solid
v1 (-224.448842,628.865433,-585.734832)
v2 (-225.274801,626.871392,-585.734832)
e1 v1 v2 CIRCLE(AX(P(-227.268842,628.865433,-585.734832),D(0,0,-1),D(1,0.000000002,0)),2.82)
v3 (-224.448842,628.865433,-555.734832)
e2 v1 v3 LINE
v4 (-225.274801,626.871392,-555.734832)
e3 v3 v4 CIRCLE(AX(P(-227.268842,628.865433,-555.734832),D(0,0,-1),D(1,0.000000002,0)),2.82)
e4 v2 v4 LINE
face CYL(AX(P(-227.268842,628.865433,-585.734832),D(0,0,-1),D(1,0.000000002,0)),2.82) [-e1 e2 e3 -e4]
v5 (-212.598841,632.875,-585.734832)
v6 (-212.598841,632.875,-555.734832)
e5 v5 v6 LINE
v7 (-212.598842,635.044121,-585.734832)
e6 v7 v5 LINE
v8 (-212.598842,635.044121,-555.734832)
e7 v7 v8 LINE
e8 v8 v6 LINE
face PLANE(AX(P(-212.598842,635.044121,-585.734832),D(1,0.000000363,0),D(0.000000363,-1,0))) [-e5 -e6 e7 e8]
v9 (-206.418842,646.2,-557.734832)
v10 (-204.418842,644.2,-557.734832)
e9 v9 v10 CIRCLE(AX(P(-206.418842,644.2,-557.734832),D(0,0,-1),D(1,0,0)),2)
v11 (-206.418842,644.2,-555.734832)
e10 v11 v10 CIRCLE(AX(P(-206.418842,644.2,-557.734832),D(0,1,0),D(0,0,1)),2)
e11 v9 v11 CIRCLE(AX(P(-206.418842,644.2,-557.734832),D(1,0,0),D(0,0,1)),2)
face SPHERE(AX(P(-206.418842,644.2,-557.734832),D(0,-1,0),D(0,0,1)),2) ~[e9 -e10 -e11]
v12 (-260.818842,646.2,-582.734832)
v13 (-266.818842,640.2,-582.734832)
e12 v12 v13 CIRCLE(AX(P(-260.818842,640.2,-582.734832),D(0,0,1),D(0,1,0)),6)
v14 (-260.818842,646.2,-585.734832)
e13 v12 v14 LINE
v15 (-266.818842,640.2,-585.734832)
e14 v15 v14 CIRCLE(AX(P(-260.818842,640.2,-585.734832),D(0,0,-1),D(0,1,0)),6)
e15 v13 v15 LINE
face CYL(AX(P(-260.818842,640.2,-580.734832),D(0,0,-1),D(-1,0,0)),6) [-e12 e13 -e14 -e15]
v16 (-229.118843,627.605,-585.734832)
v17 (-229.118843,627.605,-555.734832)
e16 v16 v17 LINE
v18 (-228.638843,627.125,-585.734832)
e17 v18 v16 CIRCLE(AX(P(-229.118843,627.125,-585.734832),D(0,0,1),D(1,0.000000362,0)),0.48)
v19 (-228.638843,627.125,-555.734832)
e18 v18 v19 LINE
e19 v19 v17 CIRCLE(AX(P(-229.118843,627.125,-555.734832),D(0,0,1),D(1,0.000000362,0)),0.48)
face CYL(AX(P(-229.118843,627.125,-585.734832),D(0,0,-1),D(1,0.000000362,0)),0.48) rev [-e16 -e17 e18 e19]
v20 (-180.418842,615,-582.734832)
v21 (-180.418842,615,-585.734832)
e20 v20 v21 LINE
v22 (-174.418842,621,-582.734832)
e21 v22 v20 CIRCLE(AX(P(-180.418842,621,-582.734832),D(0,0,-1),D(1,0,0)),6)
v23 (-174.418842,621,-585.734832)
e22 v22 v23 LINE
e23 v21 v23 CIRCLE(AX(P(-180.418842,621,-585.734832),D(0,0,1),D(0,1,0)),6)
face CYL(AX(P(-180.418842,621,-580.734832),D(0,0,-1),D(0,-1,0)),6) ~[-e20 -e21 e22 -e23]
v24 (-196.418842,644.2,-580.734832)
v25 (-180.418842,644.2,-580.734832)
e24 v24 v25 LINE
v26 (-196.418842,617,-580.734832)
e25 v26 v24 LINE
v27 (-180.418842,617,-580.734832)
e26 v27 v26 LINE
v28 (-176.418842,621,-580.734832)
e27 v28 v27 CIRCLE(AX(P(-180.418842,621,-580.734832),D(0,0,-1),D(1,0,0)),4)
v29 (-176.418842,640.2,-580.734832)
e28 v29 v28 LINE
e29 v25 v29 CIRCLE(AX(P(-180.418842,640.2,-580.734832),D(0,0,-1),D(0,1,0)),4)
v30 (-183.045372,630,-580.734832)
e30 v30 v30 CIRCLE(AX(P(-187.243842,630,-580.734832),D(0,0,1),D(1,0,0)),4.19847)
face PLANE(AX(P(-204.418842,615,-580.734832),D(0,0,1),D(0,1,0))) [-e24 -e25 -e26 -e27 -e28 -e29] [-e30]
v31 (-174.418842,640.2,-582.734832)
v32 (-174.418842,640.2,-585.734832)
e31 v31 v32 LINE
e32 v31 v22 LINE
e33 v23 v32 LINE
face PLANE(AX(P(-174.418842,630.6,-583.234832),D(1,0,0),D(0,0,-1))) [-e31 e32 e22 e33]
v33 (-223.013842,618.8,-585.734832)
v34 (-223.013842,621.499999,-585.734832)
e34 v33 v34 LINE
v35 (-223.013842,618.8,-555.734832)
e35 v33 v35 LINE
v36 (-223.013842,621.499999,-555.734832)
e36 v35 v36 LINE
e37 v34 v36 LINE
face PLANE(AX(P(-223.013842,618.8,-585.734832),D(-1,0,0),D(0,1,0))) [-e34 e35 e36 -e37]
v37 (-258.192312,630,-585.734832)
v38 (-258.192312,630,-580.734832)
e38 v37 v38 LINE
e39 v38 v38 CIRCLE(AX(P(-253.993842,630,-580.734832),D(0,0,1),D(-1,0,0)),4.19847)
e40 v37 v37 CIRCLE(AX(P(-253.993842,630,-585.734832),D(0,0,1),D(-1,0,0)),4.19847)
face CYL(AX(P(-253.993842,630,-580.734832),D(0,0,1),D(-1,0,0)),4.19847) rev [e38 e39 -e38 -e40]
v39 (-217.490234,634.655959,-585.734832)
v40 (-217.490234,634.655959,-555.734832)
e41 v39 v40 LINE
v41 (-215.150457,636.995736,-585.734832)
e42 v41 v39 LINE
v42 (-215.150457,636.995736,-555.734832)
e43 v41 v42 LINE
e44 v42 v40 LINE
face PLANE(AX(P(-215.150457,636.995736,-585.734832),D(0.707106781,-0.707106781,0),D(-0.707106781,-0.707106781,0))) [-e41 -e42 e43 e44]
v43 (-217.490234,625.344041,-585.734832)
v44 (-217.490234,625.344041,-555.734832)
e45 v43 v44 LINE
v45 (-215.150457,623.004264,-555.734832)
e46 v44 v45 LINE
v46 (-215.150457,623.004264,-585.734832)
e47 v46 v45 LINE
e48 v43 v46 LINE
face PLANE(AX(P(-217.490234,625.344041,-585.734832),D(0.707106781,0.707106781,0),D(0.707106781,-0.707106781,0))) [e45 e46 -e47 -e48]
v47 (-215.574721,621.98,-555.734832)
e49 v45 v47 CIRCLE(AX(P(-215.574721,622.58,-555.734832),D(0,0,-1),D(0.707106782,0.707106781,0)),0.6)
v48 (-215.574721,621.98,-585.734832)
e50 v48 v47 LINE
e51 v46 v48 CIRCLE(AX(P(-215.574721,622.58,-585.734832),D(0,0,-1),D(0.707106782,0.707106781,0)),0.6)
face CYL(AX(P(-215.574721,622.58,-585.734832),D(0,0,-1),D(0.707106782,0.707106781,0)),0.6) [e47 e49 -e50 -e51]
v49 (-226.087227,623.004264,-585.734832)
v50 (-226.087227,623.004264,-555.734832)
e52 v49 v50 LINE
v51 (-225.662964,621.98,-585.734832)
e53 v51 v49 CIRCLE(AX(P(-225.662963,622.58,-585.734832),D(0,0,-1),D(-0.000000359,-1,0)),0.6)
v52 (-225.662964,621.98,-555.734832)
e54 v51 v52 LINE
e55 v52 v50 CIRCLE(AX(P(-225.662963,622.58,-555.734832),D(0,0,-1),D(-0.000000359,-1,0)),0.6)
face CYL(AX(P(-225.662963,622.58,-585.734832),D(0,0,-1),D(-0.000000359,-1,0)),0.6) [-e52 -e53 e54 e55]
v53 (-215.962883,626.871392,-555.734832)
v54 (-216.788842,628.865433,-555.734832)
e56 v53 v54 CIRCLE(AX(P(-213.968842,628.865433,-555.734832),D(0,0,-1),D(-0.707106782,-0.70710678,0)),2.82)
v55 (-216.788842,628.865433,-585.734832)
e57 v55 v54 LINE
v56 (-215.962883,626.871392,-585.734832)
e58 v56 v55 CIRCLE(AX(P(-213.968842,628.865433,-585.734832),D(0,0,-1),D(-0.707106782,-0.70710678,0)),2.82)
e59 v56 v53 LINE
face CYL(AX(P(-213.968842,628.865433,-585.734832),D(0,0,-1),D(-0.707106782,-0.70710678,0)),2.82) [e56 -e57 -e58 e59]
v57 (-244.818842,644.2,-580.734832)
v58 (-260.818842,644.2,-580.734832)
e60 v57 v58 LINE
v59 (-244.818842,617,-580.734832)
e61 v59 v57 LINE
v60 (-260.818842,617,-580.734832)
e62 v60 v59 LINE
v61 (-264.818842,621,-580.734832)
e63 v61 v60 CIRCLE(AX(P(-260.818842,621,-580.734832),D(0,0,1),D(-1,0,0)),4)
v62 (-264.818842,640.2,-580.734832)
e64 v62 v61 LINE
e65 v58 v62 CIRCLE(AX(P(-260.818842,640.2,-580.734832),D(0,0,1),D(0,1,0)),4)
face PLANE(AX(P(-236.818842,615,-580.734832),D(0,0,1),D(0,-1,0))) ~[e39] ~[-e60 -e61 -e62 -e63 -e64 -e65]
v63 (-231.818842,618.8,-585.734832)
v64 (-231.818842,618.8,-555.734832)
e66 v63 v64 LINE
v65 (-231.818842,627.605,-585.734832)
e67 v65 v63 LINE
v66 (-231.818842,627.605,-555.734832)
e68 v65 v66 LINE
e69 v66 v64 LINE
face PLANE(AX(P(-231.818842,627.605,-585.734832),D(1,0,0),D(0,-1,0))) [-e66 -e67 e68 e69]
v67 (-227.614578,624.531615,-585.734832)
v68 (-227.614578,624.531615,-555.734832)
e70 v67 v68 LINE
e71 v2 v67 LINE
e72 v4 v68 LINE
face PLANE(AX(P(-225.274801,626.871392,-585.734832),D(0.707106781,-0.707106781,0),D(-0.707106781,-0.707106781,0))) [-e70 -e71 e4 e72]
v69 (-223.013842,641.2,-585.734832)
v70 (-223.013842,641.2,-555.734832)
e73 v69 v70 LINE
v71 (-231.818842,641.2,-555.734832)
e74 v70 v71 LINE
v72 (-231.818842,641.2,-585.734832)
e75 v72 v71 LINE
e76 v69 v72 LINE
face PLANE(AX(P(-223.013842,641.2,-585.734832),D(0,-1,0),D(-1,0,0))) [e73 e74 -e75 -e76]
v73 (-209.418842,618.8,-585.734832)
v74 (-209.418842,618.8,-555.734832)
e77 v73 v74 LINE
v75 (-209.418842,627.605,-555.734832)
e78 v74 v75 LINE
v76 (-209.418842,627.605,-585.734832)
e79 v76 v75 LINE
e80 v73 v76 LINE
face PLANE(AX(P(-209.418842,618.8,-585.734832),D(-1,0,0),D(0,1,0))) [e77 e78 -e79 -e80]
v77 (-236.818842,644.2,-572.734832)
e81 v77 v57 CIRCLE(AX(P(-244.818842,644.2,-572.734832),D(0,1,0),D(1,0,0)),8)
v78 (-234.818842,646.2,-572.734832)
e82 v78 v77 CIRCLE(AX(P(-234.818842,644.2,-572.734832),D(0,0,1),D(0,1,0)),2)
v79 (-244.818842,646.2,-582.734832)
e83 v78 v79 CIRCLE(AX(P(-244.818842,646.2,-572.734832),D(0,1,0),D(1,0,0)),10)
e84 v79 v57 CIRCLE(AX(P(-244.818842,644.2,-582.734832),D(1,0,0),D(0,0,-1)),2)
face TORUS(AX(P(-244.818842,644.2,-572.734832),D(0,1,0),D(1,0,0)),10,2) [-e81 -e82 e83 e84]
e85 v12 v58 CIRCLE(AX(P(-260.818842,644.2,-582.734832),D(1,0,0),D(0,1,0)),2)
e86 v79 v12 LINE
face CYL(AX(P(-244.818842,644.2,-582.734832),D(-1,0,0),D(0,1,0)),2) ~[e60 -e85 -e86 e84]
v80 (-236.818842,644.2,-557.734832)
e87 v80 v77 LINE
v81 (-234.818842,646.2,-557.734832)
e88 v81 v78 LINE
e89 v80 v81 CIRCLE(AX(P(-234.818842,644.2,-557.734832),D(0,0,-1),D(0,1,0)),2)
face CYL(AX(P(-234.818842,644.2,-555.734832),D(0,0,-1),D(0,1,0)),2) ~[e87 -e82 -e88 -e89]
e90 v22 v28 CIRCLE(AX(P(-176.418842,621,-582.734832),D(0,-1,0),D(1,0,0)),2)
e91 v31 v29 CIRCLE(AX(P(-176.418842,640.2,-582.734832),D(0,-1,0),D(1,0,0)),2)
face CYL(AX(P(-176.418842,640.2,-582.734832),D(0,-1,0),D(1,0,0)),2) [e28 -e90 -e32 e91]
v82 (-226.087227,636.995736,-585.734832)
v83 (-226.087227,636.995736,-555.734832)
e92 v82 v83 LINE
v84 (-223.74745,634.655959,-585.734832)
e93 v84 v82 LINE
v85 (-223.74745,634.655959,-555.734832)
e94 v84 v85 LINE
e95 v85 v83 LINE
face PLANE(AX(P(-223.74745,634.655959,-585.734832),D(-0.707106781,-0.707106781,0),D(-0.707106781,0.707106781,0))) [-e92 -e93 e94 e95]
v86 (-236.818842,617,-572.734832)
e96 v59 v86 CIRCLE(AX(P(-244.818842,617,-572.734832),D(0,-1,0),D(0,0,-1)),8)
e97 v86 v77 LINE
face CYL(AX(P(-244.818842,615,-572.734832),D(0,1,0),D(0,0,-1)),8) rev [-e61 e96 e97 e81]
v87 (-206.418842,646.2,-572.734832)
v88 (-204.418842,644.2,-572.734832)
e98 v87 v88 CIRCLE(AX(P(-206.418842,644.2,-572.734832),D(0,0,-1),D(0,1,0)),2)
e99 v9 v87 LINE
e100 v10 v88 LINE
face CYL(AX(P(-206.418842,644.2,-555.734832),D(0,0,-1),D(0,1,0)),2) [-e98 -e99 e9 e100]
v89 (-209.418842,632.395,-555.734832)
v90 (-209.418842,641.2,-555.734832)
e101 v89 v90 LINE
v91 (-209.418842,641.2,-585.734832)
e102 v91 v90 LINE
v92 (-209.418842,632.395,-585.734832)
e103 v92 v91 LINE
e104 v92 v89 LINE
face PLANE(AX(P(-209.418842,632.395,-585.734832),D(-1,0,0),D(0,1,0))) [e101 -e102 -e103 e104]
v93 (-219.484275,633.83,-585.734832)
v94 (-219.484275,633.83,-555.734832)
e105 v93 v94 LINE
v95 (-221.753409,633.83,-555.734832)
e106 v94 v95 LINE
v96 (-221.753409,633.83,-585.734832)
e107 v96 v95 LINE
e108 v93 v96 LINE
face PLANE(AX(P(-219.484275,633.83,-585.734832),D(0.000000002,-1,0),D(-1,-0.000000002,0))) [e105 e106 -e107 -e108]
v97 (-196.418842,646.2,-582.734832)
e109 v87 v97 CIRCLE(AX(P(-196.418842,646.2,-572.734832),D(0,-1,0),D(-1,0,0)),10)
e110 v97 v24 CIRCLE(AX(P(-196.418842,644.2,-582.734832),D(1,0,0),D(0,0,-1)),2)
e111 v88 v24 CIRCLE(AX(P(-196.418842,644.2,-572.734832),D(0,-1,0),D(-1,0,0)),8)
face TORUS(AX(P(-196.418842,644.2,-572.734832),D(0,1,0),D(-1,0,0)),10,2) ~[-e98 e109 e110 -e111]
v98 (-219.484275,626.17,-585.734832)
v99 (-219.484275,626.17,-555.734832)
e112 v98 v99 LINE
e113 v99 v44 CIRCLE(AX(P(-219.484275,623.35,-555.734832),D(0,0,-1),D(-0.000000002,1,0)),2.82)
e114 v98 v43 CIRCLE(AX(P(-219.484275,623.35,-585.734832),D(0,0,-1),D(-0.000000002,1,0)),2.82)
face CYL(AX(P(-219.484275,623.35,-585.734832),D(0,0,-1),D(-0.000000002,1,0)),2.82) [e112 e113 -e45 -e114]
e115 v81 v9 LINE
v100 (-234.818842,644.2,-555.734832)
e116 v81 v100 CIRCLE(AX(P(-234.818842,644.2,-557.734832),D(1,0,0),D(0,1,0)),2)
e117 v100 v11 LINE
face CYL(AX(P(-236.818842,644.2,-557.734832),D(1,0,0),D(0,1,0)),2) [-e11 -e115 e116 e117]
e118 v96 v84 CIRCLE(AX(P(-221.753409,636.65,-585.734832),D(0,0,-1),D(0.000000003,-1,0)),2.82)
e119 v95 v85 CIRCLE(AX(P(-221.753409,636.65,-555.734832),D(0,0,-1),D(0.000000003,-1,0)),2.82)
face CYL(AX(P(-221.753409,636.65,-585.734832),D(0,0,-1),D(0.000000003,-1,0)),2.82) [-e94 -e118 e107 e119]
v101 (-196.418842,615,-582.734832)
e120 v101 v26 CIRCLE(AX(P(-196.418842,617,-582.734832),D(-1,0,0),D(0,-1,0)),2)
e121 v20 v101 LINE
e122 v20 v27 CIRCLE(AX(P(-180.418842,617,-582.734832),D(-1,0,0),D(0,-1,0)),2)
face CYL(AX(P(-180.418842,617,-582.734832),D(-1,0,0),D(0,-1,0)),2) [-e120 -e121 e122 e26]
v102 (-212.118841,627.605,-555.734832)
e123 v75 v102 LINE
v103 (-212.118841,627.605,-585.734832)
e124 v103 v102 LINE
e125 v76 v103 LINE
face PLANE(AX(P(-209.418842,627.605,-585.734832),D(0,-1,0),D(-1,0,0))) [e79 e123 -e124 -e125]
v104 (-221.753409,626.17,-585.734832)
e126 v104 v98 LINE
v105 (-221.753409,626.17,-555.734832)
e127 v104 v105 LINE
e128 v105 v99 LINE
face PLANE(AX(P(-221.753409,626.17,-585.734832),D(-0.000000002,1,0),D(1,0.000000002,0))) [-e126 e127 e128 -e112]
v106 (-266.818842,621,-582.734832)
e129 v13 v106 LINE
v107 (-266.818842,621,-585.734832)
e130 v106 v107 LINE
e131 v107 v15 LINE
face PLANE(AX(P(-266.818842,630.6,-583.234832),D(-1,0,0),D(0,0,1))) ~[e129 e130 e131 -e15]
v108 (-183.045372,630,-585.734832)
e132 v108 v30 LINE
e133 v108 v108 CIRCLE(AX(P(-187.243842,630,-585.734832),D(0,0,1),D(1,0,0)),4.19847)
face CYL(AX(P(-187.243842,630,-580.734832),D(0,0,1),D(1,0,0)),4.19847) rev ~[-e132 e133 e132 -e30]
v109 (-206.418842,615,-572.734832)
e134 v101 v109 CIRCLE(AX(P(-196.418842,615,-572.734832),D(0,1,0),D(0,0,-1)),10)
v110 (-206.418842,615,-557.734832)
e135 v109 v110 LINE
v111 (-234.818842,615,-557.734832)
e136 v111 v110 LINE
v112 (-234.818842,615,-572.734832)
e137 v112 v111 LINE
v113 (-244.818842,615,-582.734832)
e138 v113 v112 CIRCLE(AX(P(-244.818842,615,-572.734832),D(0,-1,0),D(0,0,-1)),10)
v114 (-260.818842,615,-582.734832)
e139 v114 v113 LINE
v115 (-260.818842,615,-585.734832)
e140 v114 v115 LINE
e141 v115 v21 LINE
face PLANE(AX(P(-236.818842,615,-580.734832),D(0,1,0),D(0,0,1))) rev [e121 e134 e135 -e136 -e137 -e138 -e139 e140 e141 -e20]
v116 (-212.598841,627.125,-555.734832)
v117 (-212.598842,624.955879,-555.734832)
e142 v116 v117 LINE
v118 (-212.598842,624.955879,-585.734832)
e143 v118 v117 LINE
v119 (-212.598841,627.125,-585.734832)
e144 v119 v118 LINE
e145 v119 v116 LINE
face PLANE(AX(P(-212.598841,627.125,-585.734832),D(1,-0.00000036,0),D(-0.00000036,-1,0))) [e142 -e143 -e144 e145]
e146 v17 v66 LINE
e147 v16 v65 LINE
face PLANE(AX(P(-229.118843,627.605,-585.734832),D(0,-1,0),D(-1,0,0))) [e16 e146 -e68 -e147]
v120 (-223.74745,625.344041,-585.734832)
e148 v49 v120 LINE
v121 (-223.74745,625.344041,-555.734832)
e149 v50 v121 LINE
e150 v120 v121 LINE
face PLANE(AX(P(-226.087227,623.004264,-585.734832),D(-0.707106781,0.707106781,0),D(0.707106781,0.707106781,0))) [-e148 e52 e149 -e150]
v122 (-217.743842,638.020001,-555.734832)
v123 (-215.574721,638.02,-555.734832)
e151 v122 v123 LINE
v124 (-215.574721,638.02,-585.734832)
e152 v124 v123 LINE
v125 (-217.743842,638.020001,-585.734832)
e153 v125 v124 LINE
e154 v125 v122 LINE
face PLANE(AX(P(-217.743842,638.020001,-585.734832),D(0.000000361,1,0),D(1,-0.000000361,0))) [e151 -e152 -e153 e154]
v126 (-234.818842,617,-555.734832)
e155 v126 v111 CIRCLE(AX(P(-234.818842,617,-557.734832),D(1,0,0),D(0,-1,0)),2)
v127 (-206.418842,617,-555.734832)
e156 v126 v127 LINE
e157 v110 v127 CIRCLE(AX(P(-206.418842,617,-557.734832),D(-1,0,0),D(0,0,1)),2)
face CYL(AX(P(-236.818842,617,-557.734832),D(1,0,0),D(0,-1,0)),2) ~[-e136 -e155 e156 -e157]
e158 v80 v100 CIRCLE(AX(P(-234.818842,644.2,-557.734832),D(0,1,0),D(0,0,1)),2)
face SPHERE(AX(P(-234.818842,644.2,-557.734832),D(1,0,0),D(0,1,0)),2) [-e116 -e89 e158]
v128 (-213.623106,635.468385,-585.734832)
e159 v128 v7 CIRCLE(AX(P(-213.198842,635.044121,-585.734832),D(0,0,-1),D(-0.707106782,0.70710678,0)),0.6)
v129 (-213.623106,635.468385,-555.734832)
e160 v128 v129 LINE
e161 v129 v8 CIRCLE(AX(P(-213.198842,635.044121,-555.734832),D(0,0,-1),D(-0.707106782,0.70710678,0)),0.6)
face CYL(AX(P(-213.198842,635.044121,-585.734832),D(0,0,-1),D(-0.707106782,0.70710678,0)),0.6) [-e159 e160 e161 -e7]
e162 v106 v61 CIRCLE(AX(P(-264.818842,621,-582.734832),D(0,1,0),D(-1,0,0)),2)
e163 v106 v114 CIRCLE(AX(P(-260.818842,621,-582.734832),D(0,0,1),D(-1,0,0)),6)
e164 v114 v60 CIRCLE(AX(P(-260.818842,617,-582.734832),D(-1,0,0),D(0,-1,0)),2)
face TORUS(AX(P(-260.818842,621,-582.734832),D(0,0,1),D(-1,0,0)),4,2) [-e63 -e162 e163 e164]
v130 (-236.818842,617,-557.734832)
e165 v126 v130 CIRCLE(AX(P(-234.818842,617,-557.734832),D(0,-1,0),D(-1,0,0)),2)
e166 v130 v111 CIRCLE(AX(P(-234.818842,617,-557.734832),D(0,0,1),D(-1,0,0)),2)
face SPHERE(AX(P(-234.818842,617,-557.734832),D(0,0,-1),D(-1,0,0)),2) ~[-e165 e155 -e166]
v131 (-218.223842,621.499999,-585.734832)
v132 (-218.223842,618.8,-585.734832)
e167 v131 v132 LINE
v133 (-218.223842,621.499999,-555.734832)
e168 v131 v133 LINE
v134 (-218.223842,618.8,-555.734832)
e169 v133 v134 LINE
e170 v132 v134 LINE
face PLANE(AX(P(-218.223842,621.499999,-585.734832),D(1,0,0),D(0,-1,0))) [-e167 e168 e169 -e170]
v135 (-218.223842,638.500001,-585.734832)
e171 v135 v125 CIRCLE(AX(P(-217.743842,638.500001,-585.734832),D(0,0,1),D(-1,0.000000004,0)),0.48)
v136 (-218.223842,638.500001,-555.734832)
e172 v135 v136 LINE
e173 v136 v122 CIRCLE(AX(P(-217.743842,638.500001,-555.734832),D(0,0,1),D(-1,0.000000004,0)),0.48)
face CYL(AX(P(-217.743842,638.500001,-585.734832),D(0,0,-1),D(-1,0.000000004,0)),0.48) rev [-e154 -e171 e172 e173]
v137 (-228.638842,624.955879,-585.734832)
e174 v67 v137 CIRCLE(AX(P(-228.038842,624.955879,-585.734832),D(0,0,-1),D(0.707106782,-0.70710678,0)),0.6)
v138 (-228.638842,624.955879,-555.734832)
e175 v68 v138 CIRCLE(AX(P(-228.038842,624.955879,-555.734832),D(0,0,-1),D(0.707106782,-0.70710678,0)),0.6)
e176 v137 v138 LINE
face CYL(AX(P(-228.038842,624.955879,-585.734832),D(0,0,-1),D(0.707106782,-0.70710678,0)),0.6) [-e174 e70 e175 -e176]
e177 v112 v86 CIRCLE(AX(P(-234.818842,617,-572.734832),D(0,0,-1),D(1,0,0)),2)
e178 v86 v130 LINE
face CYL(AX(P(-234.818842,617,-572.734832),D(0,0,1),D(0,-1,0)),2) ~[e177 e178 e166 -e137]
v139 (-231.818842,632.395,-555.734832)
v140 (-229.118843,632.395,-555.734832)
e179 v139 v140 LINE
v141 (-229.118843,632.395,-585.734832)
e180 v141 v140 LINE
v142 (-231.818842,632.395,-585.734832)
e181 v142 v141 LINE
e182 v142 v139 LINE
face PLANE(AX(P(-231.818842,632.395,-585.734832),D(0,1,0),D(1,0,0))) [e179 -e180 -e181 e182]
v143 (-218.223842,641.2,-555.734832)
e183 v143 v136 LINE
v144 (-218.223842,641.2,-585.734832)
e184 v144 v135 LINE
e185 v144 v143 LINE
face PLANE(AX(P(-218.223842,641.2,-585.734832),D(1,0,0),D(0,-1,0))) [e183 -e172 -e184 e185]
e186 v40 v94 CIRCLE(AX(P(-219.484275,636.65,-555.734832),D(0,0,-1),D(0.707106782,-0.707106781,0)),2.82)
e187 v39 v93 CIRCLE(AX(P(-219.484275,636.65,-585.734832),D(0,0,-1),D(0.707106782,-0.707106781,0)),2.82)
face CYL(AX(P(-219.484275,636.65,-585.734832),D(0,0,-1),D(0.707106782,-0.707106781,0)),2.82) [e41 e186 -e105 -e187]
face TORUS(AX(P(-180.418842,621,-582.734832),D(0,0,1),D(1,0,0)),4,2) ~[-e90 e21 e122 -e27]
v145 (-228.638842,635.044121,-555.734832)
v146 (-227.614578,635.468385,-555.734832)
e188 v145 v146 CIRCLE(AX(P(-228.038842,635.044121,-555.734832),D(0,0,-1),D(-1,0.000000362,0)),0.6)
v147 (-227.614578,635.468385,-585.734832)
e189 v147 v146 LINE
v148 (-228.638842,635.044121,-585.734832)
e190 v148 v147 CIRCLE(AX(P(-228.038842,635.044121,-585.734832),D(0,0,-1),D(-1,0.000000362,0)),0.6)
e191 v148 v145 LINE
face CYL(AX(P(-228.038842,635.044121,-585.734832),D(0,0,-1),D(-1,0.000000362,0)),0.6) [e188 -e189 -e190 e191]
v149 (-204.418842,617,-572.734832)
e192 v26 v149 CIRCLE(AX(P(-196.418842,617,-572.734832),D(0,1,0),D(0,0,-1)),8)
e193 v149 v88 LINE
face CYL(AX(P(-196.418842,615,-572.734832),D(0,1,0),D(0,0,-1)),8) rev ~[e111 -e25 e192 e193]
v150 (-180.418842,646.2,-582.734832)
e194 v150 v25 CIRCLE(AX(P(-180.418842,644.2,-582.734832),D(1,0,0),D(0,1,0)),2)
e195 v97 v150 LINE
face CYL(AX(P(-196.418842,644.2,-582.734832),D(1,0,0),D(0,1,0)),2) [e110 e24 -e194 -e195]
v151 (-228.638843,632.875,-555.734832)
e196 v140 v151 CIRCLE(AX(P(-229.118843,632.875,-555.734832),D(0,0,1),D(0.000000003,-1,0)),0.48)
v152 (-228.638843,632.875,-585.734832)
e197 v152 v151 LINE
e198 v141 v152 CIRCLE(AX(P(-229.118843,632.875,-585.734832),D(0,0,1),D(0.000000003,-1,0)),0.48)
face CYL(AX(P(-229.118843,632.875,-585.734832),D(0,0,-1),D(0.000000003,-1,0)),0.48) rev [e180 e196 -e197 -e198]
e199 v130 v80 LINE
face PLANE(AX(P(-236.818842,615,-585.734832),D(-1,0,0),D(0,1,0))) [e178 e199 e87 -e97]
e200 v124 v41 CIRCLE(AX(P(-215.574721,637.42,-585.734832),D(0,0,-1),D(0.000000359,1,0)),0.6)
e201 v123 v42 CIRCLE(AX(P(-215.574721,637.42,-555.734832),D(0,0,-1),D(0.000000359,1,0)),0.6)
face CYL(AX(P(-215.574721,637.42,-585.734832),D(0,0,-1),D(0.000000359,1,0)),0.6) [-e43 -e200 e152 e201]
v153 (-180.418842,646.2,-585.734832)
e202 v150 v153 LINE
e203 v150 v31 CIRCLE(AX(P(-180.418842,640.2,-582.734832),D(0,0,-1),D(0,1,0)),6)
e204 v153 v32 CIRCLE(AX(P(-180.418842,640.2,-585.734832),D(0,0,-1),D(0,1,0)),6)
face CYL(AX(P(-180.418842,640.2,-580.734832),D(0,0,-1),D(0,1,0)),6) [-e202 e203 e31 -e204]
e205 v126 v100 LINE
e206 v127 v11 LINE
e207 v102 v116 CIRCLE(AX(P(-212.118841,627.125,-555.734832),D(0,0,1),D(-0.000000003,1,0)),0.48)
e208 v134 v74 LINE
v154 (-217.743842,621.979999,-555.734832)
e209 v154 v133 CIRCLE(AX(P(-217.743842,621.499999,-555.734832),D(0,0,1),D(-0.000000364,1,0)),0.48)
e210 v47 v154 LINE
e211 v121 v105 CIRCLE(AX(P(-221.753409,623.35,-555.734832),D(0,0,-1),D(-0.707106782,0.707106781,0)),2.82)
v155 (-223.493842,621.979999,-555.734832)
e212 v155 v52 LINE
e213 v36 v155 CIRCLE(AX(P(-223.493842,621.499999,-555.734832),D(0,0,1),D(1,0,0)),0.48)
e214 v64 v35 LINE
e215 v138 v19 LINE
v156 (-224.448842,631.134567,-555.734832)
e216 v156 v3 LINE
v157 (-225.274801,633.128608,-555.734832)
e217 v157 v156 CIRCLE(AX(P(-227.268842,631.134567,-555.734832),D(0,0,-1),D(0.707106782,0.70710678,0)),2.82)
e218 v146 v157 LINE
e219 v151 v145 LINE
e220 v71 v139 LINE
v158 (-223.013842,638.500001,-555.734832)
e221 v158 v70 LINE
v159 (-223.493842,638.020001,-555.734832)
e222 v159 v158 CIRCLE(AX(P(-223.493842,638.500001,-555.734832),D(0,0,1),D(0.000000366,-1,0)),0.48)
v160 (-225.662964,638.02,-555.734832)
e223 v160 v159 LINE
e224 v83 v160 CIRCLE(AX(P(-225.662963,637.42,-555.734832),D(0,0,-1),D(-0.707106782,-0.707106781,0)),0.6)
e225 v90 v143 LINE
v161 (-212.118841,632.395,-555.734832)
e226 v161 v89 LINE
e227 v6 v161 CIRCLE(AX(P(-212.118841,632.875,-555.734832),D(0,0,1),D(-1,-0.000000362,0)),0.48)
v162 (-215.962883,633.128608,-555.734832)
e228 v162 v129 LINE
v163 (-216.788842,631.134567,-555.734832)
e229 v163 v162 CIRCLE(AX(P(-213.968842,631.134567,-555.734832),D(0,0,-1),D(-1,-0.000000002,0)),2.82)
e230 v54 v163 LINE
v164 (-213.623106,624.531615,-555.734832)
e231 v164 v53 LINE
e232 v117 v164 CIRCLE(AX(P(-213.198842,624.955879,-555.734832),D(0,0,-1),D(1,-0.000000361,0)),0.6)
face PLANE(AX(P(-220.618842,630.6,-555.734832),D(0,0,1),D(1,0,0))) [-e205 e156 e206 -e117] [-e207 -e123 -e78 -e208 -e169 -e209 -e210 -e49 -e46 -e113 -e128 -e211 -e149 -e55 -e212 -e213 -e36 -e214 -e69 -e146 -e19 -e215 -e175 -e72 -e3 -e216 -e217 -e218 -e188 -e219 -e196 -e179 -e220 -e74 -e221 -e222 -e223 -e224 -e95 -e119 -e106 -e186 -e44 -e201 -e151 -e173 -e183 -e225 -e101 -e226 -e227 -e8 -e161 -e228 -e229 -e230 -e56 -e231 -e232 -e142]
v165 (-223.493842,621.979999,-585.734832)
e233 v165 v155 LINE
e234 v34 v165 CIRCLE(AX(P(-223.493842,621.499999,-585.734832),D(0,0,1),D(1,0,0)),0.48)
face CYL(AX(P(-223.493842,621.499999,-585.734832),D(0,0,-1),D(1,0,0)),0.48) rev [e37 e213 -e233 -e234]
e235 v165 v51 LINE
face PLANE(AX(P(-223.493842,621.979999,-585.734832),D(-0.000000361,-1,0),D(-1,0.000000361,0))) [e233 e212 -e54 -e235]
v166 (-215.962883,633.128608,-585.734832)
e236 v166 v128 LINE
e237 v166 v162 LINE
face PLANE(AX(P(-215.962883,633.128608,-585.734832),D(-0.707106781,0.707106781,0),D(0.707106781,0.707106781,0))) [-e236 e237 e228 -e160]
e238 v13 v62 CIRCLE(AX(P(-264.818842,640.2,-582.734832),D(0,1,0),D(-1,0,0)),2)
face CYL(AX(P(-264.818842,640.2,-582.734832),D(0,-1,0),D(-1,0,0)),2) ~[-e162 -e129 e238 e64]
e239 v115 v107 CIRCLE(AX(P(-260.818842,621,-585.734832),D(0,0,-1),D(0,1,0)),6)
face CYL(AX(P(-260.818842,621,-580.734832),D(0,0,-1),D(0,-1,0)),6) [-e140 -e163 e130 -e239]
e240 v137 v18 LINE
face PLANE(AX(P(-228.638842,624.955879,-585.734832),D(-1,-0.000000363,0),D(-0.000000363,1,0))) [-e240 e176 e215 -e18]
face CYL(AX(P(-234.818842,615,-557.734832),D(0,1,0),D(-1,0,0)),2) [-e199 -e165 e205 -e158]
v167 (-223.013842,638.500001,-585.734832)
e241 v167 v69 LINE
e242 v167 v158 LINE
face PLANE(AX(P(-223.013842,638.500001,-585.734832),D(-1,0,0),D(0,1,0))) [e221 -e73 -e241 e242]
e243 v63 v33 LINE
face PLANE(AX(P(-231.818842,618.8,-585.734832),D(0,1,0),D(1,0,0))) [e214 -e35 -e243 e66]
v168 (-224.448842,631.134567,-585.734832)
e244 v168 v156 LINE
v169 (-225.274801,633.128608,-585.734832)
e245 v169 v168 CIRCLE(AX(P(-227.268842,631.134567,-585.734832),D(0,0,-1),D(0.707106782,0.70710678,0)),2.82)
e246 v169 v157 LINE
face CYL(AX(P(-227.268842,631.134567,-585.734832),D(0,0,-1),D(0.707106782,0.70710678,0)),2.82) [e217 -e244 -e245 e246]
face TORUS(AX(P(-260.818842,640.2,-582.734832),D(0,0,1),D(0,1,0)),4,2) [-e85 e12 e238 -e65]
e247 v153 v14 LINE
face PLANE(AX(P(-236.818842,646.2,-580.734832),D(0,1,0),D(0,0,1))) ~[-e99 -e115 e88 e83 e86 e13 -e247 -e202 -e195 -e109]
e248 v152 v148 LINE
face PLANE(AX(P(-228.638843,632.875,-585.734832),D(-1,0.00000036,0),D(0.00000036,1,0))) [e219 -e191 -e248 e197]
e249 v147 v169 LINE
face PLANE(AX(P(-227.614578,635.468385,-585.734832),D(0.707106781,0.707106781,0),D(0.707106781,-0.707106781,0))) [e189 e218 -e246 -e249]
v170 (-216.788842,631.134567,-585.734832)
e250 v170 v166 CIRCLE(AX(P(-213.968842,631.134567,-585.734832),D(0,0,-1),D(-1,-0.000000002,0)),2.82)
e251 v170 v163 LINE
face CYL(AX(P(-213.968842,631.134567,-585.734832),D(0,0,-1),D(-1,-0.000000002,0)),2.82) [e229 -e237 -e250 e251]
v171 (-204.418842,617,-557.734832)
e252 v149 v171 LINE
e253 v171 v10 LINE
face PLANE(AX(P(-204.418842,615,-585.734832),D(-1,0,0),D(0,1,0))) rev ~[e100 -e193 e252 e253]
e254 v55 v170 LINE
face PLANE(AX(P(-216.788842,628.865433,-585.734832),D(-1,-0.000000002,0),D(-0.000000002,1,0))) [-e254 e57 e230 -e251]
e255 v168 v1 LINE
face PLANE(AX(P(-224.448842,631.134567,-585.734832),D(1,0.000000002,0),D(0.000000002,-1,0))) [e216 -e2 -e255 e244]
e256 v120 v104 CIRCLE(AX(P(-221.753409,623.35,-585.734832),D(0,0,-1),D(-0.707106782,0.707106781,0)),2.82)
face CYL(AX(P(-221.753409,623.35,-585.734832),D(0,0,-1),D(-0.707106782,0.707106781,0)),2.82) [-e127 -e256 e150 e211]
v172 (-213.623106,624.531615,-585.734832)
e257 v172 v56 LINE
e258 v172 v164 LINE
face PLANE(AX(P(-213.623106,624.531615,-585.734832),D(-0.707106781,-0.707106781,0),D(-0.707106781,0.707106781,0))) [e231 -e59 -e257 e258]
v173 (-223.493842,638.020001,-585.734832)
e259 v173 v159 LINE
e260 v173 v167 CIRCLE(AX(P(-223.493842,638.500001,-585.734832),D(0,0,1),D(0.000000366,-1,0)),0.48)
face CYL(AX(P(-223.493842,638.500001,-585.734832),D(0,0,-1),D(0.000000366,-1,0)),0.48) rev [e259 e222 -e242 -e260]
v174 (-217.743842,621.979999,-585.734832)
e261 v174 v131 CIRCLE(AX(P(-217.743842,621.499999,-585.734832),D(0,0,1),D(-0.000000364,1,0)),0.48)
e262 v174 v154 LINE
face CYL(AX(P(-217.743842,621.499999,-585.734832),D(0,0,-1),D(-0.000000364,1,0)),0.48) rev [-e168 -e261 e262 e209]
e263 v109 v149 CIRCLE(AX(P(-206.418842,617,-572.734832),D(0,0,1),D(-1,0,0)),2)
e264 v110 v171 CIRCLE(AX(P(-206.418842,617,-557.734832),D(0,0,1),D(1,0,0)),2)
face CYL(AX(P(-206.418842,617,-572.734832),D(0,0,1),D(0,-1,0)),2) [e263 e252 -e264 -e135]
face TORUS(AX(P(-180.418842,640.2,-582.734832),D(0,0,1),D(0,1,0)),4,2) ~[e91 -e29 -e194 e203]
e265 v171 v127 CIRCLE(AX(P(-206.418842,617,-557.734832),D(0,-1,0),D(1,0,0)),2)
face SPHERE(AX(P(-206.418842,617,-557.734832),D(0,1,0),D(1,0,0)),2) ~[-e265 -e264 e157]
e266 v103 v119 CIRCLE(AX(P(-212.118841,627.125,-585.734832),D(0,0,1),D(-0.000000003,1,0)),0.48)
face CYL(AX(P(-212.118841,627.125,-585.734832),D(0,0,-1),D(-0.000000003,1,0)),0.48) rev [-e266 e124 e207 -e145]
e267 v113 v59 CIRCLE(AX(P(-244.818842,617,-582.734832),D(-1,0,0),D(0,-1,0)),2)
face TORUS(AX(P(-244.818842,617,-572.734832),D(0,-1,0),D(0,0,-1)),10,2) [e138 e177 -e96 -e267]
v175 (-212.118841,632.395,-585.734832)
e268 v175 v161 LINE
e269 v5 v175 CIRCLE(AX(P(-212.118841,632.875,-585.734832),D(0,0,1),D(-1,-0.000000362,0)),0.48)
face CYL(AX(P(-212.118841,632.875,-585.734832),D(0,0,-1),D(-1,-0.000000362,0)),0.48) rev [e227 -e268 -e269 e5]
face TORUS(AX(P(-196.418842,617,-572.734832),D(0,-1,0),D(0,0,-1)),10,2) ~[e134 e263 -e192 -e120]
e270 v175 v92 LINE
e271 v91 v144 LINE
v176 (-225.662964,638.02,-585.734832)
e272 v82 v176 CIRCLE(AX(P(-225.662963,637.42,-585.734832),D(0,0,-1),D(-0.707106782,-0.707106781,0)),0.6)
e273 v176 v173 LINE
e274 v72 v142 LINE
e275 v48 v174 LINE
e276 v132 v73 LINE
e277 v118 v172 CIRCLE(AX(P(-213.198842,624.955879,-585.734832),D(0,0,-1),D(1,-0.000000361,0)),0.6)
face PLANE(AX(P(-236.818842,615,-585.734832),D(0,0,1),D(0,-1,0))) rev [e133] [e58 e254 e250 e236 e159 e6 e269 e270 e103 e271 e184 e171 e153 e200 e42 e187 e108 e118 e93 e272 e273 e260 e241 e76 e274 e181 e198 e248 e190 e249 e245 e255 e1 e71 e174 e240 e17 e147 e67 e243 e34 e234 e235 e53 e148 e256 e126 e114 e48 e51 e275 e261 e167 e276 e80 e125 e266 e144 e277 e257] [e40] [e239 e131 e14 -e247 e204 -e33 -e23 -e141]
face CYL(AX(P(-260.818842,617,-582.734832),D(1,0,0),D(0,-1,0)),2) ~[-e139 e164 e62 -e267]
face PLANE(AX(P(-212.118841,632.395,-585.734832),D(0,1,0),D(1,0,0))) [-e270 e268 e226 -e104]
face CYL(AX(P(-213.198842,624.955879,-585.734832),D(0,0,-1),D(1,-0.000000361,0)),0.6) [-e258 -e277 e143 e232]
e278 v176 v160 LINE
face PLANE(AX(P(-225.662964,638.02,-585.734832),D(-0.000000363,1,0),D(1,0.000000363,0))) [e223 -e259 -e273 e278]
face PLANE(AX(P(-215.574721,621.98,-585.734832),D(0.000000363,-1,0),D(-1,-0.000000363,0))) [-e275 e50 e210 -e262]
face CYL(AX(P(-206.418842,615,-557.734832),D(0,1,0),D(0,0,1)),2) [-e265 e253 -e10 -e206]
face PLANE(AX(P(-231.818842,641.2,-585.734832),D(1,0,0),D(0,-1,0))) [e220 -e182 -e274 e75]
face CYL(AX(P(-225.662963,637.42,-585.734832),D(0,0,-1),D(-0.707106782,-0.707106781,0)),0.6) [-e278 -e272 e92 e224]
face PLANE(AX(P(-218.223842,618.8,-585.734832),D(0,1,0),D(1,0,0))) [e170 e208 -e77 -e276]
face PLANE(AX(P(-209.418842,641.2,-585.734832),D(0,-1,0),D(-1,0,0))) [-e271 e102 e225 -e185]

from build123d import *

# Parameters (mm, degrees)
SKETCH2_W           = 32.4
SKETCH2_H           = 31.2
BOSS_EXTRUDE1_DEPTH = 30
SKETCH3_W           = 5
SKETCH3_H           = 31.2
BOSS_EXTRUDE2_DEPTH = 30
SKETCH4_R           = 4.198469776
CUT_EXTRUDE1_DEPTH  = 15
FILLET6_R           = 8
FILLET7_R           = 6
FILLET8_R           = 2


with BuildPart() as part:
    # Sketch2 → Boss-Extrude1 (new body)
    with BuildSketch(Plane.XY.offset(-585.734831934)):
        with Locations((-220.618842126, 630.6)):
            Rectangle(SKETCH2_W, SKETCH2_H)
        with BuildLine():
            Line((-218.223842126, 639.2), (-218.223842126, 638.500000763))
            ThreePointArc((-218.223842126, 638.500000763), (-218.083253443, 638.160589569), (-217.743842299, 638.020000763))
            Line((-217.743842299, 638.020000763), (-215.574720714, 638.019999981))
            ThreePointArc((-215.574720714, 638.019999981), (-215.020393169, 637.649609941), (-215.150456861, 636.995735913))
            Line((-215.150456861, 636.995735913), (-217.490233892, 634.655958882))
            ThreePointArc((-217.490233892, 634.655958882), (-218.405107733, 634.044659724), (-219.484275009, 633.830000005))
            Line((-219.484275009, 633.830000005), (-221.753409227, 633.83))
            ThreePointArc((-221.753409227, 633.83), (-222.83257651, 634.044659717), (-223.747450356, 634.655958877))
            Line((-223.747450356, 634.655958877), (-226.087227386, 636.995735907))
            ThreePointArc((-226.087227386, 636.995735907), (-226.217291078, 637.649609934), (-225.662963535, 638.019999975))
            Line((-225.662963535, 638.019999975), (-223.493841952, 638.020000763))
            ThreePointArc((-223.493841952, 638.020000763), (-223.15443081, 638.16058957), (-223.013842126, 638.500000763))
            Line((-223.013842126, 638.500000763), (-223.013842126, 639.2))
            Line((-223.013842126, 639.2), (-223.013842126, 641.2))
            Line((-223.013842126, 641.2), (-231.818842126, 641.2))
            Line((-231.818842126, 641.2), (-231.818842126, 632.395))
            Line((-231.818842126, 632.395), (-229.818842126, 632.395))
            Line((-229.818842126, 632.395), (-229.118842889, 632.395))
            ThreePointArc((-229.118842889, 632.395), (-228.779431696, 632.535588684), (-228.638842889, 632.874999827))
            Line((-228.638842889, 632.874999827), (-228.638842108, 635.044121413))
            ThreePointArc((-228.638842108, 635.044121413), (-228.268452067, 635.598448957), (-227.614578039, 635.468385265))
            Line((-227.614578039, 635.468385265), (-225.274801008, 633.128608235))
            ThreePointArc((-225.274801008, 633.128608235), (-224.663501851, 632.213734394), (-224.448842131, 631.134567117))
            Line((-224.448842131, 631.134567117), (-224.448842127, 628.865432899))
            ThreePointArc((-224.448842127, 628.865432899), (-224.663501844, 627.786265617), (-225.274801004, 626.87139177))
            Line((-225.274801004, 626.87139177), (-227.614578033, 624.531614741))
            ThreePointArc((-227.614578033, 624.531614741), (-228.268452061, 624.401551048), (-228.638842102, 624.955878592))
            Line((-228.638842102, 624.955878592), (-228.638842889, 627.125000174))
            ThreePointArc((-228.638842889, 627.125000174), (-228.779431696, 627.464411317), (-229.118842889, 627.605))
            Line((-229.118842889, 627.605), (-229.818842126, 627.605))
            Line((-229.818842126, 627.605), (-231.818842126, 627.605))
            Line((-231.818842126, 627.605), (-231.818842126, 618.8))
            Line((-231.818842126, 618.8), (-223.013842126, 618.8))
            Line((-223.013842126, 618.8), (-223.013842126, 620.8))
            Line((-223.013842126, 620.8), (-223.013842126, 621.499999237))
            ThreePointArc((-223.013842126, 621.499999237), (-223.15443081, 621.839410431), (-223.493841954, 621.979999237))
            Line((-223.493841954, 621.979999237), (-225.662963539, 621.980000019))
            ThreePointArc((-225.662963539, 621.980000019), (-226.217291084, 622.350390059), (-226.087227392, 623.004264087))
            Line((-226.087227392, 623.004264087), (-223.747450361, 625.344041118))
            ThreePointArc((-223.747450361, 625.344041118), (-222.83257652, 625.955340276), (-221.753409244, 626.169999995))
            Line((-221.753409244, 626.169999995), (-219.484275025, 626.17))
            ThreePointArc((-219.484275025, 626.17), (-218.405107743, 625.955340283), (-217.490233897, 625.344041123))
            Line((-217.490233897, 625.344041123), (-215.150456867, 623.004264093))
            ThreePointArc((-215.150456867, 623.004264093), (-215.020393175, 622.350390066), (-215.574720718, 621.980000025))
            Line((-215.574720718, 621.980000025), (-217.743842301, 621.979999237))
            ThreePointArc((-217.743842301, 621.979999237), (-218.083253443, 621.83941043), (-218.223842126, 621.499999237))
            Line((-218.223842126, 621.499999237), (-218.223842126, 620.8))
            Line((-218.223842126, 620.8), (-218.223842126, 618.8))
            Line((-218.223842126, 618.8), (-209.418842126, 618.8))
            Line((-209.418842126, 618.8), (-209.418842126, 627.605))
            Line((-209.418842126, 627.605), (-211.418842126, 627.605))
            Line((-211.418842126, 627.605), (-212.118841364, 627.605))
            ThreePointArc((-212.118841364, 627.605), (-212.458252557, 627.464411316), (-212.598841364, 627.125000173))
            Line((-212.598841364, 627.125000173), (-212.598842145, 624.955878587))
            ThreePointArc((-212.598842145, 624.955878587), (-212.969232185, 624.401551043), (-213.623106214, 624.531614735))
            Line((-213.623106214, 624.531614735), (-215.962883245, 626.871391765))
            ThreePointArc((-215.962883245, 626.871391765), (-216.574182402, 627.786265606), (-216.788842122, 628.865432883))
            Line((-216.788842122, 628.865432883), (-216.788842126, 631.134567101))
            ThreePointArc((-216.788842126, 631.134567101), (-216.574182409, 632.213734383), (-215.962883249, 633.12860823))
            Line((-215.962883249, 633.12860823), (-213.62310622, 635.468385259))
            ThreePointArc((-213.62310622, 635.468385259), (-212.969232192, 635.598448952), (-212.598842151, 635.044121408))
            Line((-212.598842151, 635.044121408), (-212.598841364, 632.874999826))
            ThreePointArc((-212.598841364, 632.874999826), (-212.458252557, 632.535588683), (-212.118841364, 632.395))
            Line((-212.118841364, 632.395), (-211.418842126, 632.395))
            Line((-211.418842126, 632.395), (-209.418842126, 632.395))
            Line((-209.418842126, 632.395), (-209.418842126, 641.2))
            Line((-209.418842126, 641.2), (-218.223842126, 641.2))
            Line((-218.223842126, 641.2), (-218.223842126, 639.2))
        make_face(mode=Mode.SUBTRACT)
    extrude(amount=BOSS_EXTRUDE1_DEPTH)

    # Sketch3 → Boss-Extrude2 (add)
    with BuildSketch(Plane(origin=(-204.418842126, 0, 0), x_dir=(0, 0, -1), z_dir=(1, 0, 0))):
        with Locations((583.234831934, 630.6)):
            Rectangle(SKETCH3_W, SKETCH3_H)
    boss_extrude2 = extrude(amount=BOSS_EXTRUDE2_DEPTH)

    # Sketch4 → Cut-Extrude1 (cut, symmetric)
    with BuildSketch(Plane.XY.offset(-580.734831934)):
        with Locations((-187.243842126, 630)):
            Circle(SKETCH4_R)
    cut_extrude1 = extrude(amount=CUT_EXTRUDE1_DEPTH, both=True, mode=Mode.SUBTRACT)

    # Mirror6: Boss-Extrude2 across plane
    add(boss_extrude2.mirror(Plane(origin=(-220.618842126, 0, 0), x_dir=(0, 0, 1), z_dir=(1, 0, 0))))

    # Mirror9: Cut-Extrude1 across plane
    add(cut_extrude1.mirror(Plane(origin=(-220.618842126, 0, 0), x_dir=(0, 0, 1), z_dir=(1, 0, 0))), mode=Mode.SUBTRACT)

    # Fillet6
    fillet6_edges = [part.edges().sort_by_distance(p)[0] for p in [
        (-204.418842126, 630.6, -580.734831934),
        (-236.818842126, 630.6, -580.734831934),
    ]]
    fillet(fillet6_edges, radius=FILLET6_R)

    # Fillet7
    fillet7_edges = [part.edges().sort_by_distance(p)[0] for p in [
        (-174.418842126, 646.2, -583.234831934),
        (-174.418842126, 615, -583.234831934),
        (-266.818842126, 615, -583.234831934),
        (-266.818842126, 646.2, -583.234831934),
    ]]
    fillet(fillet7_edges, radius=FILLET7_R)

    # Fillet8
    fillet8_edges = [part.edges().sort_by_distance(p)[0] for p in [
        (-204.418842126, 630.6, -555.734831934),
        (-220.618842126, 646.2, -555.734831934),
        (-239.161987877, 615, -578.391686183),
        (-239.161987877, 646.2, -578.391686183),
        (-202.075696376, 615, -578.391686183),
        (-202.075696376, 646.2, -578.391686183),
        (-188.418842126, 615, -580.734831934),
        (-252.818842126, 615, -580.734831934),
        (-266.818842126, 630.6, -580.734831934),
        (-252.818842126, 646.2, -580.734831934),
        (-265.061482814, 644.442640687, -580.734831934),
        (-265.061482814, 616.757359313, -580.734831934),
        (-188.418842126, 646.2, -580.734831934),
        (-174.418842126, 630.6, -580.734831934),
        (-176.176201439, 644.442640687, -580.734831934),
        (-176.176201439, 616.757359313, -580.734831934),
        (-236.818842126, 630.6, -555.734831934),
        (-236.818842126, 646.2, -564.234831934),
        (-204.418842126, 646.2, -564.234831934),
        (-204.418842126, 615, -564.234831934),
        (-236.818842126, 615, -564.234831934),
        (-220.618842126, 615, -555.734831934),
    ]]
    fillet(fillet8_edges, radius=FILLET8_R)


solid = part.part
